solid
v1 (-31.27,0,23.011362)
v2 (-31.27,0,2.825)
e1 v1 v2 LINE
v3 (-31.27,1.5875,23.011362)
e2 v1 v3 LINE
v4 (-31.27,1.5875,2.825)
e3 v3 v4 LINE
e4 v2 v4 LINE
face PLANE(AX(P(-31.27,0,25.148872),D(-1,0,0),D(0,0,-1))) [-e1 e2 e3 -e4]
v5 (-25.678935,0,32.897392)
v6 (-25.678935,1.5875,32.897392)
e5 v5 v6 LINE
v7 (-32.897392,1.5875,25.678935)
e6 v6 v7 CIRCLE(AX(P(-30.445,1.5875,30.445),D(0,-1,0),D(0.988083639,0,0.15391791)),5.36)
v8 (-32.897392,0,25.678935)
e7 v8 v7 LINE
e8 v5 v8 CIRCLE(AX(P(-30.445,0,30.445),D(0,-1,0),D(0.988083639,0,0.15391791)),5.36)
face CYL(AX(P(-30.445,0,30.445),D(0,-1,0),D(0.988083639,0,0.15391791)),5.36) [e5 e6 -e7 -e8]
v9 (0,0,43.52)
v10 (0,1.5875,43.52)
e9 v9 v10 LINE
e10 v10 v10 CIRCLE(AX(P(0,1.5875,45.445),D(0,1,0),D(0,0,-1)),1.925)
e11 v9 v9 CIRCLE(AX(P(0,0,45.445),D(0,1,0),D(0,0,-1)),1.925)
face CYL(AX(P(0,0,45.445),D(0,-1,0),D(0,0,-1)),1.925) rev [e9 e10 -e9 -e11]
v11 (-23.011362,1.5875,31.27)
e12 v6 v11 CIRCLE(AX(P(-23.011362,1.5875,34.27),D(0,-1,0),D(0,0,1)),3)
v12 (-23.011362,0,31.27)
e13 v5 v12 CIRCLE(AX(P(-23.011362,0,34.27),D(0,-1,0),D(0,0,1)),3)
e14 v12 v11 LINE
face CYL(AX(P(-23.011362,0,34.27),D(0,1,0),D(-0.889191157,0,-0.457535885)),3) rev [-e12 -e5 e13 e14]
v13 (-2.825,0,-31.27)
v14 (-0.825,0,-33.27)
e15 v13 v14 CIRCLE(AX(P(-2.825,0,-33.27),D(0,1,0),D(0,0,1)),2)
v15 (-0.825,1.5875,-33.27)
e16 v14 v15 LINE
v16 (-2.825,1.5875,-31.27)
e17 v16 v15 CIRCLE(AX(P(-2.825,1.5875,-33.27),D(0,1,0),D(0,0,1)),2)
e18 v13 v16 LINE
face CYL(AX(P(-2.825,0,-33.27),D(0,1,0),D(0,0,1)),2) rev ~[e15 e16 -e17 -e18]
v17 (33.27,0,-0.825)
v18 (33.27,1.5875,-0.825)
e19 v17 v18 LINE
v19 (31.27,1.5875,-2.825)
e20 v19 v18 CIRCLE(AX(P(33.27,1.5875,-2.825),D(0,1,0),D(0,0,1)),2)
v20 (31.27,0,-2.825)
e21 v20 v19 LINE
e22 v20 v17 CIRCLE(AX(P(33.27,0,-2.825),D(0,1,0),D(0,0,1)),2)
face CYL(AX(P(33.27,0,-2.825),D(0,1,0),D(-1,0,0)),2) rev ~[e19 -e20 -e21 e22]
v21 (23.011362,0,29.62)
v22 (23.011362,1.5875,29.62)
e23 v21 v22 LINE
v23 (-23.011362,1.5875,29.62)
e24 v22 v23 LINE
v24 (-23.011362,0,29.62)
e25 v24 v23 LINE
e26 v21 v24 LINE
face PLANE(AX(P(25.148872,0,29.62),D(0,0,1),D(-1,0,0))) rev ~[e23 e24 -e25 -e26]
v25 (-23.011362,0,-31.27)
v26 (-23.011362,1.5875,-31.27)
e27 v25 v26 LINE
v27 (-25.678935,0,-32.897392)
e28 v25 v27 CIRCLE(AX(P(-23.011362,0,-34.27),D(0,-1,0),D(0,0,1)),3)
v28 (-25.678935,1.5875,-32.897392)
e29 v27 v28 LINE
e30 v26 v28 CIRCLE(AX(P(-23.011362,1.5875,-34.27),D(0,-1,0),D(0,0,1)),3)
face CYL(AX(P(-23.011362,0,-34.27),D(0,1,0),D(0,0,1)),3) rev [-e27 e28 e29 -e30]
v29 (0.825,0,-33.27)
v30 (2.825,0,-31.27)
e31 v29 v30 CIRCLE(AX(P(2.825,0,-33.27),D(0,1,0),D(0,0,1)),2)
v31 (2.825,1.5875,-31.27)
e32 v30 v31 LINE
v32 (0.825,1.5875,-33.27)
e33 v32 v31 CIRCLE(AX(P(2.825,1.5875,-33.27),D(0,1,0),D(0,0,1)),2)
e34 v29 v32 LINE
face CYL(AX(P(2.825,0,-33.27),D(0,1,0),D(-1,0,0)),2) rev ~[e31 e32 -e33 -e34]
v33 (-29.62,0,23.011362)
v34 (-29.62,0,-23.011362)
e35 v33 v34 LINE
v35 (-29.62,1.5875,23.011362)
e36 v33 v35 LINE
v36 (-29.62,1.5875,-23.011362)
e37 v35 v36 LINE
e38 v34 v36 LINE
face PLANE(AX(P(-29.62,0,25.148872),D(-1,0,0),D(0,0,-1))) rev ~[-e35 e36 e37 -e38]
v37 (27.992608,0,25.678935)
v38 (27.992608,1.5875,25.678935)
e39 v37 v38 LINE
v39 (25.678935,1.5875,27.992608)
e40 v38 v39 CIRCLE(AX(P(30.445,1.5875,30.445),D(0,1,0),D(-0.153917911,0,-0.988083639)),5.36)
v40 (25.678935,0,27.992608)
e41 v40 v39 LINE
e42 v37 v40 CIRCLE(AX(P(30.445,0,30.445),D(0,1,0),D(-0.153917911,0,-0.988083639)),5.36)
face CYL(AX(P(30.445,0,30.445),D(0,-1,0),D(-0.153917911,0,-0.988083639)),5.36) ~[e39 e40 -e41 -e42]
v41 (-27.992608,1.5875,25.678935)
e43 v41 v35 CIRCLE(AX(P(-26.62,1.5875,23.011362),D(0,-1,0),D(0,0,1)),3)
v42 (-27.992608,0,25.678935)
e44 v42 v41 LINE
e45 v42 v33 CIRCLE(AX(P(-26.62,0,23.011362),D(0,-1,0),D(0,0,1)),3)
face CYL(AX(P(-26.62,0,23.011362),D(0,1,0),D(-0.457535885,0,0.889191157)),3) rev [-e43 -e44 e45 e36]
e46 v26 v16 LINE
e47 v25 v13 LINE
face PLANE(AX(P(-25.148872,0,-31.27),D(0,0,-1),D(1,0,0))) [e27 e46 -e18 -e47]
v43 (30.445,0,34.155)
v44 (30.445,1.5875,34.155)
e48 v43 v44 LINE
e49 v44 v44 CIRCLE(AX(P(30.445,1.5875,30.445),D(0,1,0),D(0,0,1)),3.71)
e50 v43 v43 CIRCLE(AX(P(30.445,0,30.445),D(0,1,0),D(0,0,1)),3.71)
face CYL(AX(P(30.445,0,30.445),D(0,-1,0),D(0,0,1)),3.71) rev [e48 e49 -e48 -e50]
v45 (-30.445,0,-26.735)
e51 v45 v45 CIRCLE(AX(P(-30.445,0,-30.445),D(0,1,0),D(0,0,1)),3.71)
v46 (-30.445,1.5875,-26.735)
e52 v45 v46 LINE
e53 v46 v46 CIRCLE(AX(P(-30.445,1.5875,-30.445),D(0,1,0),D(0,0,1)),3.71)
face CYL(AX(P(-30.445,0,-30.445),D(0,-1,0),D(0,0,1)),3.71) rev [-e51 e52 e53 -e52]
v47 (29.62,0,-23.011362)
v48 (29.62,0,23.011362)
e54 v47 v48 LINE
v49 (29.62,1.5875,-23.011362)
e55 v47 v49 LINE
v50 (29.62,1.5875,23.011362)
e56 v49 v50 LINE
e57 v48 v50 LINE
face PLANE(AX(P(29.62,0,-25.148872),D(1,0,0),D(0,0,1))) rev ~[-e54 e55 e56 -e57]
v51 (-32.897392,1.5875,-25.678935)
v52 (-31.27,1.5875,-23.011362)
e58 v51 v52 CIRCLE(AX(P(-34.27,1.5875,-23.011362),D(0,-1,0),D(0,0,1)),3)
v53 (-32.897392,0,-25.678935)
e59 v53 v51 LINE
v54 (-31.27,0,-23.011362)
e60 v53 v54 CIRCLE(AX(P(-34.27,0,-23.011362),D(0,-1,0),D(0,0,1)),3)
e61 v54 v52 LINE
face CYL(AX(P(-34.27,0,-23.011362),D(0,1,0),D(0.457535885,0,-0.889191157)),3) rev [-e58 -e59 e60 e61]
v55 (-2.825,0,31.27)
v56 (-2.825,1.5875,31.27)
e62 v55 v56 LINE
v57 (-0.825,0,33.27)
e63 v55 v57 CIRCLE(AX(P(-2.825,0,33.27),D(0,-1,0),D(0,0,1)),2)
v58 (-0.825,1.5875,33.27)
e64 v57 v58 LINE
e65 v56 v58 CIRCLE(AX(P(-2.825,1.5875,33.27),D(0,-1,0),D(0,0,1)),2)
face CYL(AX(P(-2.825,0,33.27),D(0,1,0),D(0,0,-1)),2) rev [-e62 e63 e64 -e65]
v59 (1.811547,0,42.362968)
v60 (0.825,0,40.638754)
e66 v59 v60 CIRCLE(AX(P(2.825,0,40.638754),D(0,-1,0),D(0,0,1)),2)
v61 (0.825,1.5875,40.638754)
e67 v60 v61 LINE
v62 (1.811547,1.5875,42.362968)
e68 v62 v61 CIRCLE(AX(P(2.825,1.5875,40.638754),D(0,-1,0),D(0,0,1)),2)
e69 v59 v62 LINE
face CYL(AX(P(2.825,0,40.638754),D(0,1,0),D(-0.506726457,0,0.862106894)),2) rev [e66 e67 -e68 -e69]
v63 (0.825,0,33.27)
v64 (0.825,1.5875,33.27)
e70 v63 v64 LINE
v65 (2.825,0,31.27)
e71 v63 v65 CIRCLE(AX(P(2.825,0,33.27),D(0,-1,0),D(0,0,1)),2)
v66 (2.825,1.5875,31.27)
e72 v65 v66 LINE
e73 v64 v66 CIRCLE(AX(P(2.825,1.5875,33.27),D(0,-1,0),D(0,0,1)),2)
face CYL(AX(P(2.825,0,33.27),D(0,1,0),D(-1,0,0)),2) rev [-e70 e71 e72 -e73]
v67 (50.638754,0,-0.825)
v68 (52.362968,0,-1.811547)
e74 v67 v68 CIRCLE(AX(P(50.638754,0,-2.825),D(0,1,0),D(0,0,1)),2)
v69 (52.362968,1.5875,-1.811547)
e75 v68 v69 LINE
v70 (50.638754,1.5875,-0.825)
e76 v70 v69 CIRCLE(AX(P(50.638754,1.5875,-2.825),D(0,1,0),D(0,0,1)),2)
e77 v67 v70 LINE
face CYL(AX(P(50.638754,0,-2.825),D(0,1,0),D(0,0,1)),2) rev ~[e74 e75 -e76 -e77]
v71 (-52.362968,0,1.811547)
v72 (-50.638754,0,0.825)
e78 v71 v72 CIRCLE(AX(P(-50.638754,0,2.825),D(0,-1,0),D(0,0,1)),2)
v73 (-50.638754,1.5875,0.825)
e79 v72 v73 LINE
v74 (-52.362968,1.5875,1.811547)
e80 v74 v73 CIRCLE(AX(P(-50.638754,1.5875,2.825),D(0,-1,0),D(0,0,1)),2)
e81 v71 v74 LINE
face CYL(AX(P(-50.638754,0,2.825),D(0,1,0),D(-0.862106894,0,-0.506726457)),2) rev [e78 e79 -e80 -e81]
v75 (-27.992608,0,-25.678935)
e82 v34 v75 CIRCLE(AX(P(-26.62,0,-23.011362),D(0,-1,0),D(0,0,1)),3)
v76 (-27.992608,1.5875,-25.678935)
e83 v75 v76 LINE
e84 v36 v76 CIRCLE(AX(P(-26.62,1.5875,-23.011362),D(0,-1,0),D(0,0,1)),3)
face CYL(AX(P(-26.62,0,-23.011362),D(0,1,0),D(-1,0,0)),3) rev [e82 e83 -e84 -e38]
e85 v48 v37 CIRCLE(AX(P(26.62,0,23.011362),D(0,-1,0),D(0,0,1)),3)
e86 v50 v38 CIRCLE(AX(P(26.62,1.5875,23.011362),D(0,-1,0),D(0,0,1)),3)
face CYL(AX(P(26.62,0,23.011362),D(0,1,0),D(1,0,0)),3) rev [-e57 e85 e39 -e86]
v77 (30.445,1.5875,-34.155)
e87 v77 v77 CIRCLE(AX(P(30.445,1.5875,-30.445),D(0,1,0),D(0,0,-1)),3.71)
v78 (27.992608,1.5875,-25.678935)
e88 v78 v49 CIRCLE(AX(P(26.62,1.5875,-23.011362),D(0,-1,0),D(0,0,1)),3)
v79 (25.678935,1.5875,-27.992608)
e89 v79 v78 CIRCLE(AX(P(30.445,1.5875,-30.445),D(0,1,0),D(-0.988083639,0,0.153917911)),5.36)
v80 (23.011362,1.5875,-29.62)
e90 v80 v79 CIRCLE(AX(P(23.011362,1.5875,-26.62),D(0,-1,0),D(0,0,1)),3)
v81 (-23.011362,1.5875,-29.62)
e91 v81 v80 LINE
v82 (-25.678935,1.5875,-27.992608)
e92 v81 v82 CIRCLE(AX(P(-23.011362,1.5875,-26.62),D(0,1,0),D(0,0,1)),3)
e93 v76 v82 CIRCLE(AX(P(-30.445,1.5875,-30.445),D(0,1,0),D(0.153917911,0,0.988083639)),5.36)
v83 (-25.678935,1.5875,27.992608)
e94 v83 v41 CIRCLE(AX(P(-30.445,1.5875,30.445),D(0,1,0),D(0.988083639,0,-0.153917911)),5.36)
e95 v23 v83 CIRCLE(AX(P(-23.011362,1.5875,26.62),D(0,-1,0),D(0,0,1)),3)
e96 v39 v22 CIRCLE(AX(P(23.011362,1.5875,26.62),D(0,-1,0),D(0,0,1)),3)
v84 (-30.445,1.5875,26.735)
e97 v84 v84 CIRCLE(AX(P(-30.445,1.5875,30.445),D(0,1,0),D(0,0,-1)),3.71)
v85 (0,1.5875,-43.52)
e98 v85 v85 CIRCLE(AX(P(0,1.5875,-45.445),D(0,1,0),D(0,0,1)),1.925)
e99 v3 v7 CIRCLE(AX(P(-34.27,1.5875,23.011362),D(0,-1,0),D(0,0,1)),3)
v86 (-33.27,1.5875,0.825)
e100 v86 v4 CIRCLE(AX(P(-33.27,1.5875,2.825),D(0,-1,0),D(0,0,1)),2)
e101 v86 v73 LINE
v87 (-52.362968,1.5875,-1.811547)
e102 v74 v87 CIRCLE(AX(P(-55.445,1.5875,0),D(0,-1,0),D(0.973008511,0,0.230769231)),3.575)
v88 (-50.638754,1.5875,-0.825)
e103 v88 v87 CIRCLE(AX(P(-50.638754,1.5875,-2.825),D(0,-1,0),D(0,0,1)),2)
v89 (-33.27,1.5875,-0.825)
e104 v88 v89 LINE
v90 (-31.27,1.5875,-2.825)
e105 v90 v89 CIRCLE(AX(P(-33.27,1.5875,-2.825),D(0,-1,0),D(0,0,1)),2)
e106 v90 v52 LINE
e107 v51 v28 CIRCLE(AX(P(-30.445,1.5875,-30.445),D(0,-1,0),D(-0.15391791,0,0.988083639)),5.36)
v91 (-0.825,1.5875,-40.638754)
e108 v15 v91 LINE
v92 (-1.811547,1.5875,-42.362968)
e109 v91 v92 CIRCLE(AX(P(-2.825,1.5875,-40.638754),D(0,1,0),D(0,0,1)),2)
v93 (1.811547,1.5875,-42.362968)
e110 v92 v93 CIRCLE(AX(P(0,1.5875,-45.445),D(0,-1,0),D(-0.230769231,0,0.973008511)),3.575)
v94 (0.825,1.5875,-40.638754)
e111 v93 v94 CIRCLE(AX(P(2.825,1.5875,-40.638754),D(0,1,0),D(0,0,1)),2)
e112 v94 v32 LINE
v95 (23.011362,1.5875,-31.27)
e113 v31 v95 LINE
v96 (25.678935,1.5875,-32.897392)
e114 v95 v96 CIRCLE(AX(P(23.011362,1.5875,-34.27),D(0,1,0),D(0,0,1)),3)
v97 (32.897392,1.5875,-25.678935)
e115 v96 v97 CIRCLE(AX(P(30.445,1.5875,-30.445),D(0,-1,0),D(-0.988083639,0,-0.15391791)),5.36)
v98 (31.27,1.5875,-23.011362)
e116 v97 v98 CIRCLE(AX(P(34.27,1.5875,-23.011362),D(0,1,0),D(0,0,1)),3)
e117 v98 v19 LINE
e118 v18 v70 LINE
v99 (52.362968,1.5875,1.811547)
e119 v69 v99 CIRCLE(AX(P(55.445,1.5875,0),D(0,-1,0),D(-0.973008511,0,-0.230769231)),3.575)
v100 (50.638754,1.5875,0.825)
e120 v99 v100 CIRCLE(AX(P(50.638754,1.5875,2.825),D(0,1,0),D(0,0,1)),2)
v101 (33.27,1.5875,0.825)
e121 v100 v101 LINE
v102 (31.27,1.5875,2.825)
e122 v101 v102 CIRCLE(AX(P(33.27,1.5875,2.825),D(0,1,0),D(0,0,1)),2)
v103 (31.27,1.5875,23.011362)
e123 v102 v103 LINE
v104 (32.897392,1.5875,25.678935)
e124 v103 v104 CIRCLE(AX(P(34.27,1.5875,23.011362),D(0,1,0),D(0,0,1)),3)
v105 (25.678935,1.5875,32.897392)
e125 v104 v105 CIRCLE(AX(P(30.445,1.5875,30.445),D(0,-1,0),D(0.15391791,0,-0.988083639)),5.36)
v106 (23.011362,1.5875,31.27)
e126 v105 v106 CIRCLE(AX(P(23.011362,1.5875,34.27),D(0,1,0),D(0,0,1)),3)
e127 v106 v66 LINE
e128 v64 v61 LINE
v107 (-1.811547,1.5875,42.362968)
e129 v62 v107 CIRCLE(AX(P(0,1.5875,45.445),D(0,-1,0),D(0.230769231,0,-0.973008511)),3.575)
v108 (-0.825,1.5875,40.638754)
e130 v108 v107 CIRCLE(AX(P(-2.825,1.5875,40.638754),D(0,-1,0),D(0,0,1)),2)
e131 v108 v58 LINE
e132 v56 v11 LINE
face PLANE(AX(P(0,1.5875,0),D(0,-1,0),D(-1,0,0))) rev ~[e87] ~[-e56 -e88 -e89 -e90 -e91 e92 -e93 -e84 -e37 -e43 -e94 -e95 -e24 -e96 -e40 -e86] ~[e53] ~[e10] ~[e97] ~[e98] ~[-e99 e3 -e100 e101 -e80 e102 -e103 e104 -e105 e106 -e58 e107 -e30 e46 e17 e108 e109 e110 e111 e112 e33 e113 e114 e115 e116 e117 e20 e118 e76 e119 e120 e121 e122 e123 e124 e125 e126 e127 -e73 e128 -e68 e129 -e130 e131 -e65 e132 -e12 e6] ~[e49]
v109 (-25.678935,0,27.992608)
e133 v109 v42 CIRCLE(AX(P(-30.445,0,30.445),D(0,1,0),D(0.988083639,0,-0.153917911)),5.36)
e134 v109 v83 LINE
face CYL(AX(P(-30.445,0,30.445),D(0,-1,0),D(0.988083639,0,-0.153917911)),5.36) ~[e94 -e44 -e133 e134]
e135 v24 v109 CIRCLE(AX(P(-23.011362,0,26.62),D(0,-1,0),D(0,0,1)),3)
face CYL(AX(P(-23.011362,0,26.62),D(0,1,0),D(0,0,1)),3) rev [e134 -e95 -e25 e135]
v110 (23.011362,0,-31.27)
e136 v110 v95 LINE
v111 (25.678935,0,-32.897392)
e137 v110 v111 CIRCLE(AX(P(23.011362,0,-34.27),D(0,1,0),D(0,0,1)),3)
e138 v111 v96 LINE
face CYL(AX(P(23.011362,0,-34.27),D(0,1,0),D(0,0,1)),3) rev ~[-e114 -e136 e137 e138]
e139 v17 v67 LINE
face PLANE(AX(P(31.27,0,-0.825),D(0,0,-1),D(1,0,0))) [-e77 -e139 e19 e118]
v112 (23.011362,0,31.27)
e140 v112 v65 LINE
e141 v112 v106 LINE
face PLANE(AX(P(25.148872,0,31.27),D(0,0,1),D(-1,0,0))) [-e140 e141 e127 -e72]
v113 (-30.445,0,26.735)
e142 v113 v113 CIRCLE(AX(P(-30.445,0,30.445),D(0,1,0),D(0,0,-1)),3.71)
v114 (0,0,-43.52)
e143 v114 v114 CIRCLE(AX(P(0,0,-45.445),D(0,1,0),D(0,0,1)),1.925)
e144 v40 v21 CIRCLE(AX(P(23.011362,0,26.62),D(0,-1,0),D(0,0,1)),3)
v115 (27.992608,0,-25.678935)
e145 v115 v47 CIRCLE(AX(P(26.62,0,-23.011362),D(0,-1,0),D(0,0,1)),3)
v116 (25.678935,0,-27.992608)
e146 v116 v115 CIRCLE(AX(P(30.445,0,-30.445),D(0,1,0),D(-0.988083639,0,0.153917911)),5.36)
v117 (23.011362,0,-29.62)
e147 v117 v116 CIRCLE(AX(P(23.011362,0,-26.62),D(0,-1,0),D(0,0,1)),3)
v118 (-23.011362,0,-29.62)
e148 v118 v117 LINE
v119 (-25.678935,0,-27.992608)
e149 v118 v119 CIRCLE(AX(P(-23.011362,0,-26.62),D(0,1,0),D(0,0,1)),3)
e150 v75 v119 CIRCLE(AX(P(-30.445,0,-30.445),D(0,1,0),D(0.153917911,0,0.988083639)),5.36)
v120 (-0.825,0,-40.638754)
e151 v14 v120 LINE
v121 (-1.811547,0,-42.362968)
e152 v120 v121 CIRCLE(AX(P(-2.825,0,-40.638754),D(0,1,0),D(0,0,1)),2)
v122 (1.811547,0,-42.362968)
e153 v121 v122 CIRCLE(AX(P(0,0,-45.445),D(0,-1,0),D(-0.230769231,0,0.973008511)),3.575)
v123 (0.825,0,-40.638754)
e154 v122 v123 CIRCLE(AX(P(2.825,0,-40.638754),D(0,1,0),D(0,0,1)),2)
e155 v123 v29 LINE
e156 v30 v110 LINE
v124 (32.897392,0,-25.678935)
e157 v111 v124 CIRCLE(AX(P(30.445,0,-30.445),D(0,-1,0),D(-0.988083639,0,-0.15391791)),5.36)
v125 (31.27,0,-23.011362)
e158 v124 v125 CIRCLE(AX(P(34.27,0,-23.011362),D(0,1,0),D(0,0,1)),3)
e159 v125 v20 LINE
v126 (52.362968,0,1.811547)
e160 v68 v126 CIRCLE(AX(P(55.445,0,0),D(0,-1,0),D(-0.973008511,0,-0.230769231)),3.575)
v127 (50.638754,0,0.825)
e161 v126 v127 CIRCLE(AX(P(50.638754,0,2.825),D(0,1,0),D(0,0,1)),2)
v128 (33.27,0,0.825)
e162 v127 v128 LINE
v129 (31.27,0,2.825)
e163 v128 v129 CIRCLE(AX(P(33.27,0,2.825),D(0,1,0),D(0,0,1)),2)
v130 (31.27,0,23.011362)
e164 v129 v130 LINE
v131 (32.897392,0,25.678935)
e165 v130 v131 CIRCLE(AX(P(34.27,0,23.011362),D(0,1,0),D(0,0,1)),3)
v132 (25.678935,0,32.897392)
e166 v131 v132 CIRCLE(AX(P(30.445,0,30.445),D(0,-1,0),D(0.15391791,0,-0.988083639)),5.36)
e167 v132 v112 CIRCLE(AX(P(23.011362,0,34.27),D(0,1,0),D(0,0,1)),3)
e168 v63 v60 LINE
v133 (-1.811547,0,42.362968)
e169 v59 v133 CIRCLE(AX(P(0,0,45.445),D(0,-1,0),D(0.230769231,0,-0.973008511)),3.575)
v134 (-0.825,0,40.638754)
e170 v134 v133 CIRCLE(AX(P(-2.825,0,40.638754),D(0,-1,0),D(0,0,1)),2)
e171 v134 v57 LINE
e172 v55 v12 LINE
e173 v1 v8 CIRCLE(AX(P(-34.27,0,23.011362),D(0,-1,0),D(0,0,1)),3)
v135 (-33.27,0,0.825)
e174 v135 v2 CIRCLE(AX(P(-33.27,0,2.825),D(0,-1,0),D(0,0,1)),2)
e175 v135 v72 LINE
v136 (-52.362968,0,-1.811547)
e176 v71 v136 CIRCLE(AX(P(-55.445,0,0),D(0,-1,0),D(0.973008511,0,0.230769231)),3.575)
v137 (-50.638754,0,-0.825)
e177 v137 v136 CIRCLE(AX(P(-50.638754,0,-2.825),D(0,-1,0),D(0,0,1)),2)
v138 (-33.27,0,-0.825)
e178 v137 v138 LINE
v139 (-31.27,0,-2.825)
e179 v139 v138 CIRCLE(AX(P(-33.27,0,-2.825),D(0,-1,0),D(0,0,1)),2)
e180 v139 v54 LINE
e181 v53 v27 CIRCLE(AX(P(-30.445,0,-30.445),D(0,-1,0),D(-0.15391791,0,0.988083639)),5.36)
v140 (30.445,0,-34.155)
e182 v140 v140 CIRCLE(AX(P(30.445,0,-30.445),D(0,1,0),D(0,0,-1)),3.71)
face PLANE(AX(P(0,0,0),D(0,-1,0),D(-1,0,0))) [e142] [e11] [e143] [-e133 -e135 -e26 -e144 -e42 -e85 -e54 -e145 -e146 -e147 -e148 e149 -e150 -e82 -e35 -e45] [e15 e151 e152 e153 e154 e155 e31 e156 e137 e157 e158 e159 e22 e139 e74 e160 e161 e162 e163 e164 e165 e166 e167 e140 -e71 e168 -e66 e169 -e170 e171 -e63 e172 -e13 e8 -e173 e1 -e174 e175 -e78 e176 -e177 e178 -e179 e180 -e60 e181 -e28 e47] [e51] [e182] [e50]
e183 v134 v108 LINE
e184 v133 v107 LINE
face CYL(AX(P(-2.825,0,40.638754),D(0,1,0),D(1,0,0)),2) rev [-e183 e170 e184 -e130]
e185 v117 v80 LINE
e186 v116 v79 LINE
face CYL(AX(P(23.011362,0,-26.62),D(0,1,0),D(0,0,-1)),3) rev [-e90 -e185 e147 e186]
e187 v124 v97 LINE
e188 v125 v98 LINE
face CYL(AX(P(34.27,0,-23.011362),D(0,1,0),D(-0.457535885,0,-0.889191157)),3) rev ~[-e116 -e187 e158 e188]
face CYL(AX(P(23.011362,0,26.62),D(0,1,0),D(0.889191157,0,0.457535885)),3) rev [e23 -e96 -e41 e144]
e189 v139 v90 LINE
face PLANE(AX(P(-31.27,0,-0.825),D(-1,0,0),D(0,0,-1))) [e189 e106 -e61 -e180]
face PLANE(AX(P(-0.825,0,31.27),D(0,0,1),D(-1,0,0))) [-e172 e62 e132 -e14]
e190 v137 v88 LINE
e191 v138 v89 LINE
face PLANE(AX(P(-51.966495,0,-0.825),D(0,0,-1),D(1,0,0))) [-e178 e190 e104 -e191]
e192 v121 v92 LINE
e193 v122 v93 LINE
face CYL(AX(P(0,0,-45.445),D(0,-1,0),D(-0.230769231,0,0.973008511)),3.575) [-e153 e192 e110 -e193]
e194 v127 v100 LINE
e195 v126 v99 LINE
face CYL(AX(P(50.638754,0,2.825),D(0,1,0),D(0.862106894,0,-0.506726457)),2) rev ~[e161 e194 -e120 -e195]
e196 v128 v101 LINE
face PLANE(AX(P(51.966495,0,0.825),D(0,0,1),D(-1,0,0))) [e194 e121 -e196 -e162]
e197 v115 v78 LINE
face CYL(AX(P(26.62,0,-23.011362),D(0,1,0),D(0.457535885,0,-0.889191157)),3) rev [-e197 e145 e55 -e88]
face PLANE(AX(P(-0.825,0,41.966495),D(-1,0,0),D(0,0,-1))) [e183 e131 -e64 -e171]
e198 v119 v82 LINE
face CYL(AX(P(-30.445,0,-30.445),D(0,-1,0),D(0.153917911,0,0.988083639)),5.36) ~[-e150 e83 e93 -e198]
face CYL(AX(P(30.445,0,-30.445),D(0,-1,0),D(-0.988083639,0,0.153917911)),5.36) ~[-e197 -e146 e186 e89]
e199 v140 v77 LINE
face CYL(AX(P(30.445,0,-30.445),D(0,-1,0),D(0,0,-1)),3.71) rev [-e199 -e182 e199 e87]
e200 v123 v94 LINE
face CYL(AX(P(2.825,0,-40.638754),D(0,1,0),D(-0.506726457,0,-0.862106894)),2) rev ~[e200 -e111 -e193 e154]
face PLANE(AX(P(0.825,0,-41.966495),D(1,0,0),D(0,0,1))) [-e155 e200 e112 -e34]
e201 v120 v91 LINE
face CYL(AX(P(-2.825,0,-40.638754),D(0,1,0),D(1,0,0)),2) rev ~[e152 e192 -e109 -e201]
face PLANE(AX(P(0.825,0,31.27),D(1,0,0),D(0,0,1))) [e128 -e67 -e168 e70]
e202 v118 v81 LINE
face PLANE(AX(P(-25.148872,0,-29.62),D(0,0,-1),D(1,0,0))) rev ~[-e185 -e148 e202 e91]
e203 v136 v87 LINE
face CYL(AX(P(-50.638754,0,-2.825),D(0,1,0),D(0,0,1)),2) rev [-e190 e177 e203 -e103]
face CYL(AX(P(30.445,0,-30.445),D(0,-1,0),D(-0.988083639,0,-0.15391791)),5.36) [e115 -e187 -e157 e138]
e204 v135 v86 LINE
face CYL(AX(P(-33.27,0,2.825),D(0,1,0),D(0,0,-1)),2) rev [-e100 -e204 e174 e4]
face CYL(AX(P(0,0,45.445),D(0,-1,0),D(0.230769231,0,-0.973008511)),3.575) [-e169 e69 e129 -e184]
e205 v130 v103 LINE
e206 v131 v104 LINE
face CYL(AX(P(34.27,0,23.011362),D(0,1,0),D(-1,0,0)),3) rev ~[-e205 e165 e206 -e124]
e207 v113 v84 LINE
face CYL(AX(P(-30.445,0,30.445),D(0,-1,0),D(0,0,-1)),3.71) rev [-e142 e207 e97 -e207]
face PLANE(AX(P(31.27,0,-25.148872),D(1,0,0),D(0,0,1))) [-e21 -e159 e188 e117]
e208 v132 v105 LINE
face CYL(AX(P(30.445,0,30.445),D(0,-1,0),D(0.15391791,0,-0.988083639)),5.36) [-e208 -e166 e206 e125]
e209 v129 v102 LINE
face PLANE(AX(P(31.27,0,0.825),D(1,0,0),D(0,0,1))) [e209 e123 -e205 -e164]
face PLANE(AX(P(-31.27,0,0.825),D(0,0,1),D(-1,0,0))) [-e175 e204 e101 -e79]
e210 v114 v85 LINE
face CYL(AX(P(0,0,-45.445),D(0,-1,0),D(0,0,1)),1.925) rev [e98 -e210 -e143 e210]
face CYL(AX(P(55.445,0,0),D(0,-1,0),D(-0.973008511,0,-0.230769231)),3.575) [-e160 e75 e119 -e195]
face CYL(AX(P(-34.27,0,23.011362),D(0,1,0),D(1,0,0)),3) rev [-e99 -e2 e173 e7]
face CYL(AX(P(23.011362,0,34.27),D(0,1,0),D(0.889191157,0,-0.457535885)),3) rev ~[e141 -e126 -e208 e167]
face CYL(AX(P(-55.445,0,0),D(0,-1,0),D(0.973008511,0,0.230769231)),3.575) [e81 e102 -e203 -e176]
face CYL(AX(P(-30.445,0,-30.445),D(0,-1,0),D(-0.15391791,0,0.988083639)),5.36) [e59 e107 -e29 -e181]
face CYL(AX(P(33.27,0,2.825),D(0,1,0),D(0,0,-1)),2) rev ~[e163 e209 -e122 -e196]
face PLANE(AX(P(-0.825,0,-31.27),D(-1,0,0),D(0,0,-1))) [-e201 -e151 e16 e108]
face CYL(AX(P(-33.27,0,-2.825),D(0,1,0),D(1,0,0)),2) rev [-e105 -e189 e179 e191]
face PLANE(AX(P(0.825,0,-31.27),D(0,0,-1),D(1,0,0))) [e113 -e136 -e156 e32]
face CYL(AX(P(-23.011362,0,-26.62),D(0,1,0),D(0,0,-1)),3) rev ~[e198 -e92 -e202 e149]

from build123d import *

# Parameters (mm, degrees)
SKETCH1_R           = 3.71
SKETCH1_R_2         = 1.925
BOSS_EXTRUDE1_DEPTH = 1.5875
FILLET1_R           = 3
FILLET2_R           = 2
FILLET3_R           = 2


with BuildPart() as part:
    # Sketch1 → Boss-Extrude1 (new body)
    with BuildSketch(Plane(origin=(0, 0, 0), x_dir=(1, 0, 0), z_dir=(0, 1, 0))):
        with BuildLine():
            Line((-25.148871697, 31.27), (-0.825, 31.27))
            Line((-0.825, 31.27), (-0.825, 41.966494574))
            ThreePointArc((-0.825, 41.966494574), (0, 49.02), (0.825, 41.966494574))
            Line((0.825, 41.966494574), (0.825, 31.27))
            Line((0.825, 31.27), (25.148871697, 31.27))
            ThreePointArc((25.148871697, 31.27), (34.235092347, 34.235092347), (31.27, 25.148871697))
            Line((31.27, 25.148871697), (31.27, 0.825))
            Line((31.27, 0.825), (51.966494574, 0.825))
            ThreePointArc((51.966494574, 0.825), (59.02, 0), (51.966494574, -0.825))
            Line((51.966494574, -0.825), (31.27, -0.825))
            Line((31.27, -0.825), (31.27, -25.148871697))
            ThreePointArc((31.27, -25.148871697), (34.235092347, -34.235092347), (25.148871697, -31.27))
            Line((25.148871697, -31.27), (0.825, -31.27))
            Line((0.825, -31.27), (0.825, -41.966494574))
            ThreePointArc((0.825, -41.966494574), (0, -49.02), (-0.825, -41.966494574))
            Line((-0.825, -41.966494574), (-0.825, -31.27))
            Line((-0.825, -31.27), (-25.148871697, -31.27))
            ThreePointArc((-25.148871697, -31.27), (-34.235092347, -34.235092347), (-31.27, -25.148871697))
            Line((-31.27, -25.148871697), (-31.27, -0.825))
            Line((-31.27, -0.825), (-51.966494574, -0.825))
            ThreePointArc((-51.966494574, -0.825), (-59.02, 0), (-51.966494574, 0.825))
            Line((-51.966494574, 0.825), (-31.27, 0.825))
            Line((-31.27, 0.825), (-31.27, 25.148871697))
            ThreePointArc((-31.27, 25.148871697), (-34.235092347, 34.235092347), (-25.148871697, 31.27))
        make_face()
        with Locations(Location((-30.445, 30.445, 0), (0, 0, 270))):
            Circle(SKETCH1_R, mode=Mode.SUBTRACT)
        with Locations(Location((30.445, 30.445, 0), (0, 0, 90))):
            Circle(SKETCH1_R, mode=Mode.SUBTRACT)
        with Locations(Location((30.445, -30.445, 0), (0, 0, 270))):
            Circle(SKETCH1_R, mode=Mode.SUBTRACT)
        with Locations(Location((-30.445, -30.445, 0), (0, 0, 90))):
            Circle(SKETCH1_R, mode=Mode.SUBTRACT)
        with Locations(Location((0, 45.445, 0), (0, 0, 270))):
            Circle(SKETCH1_R_2, mode=Mode.SUBTRACT)
        with Locations(Location((0, -45.445, 0), (0, 0, 90))):
            Circle(SKETCH1_R_2, mode=Mode.SUBTRACT)
        with BuildLine():
            Line((-25.148871697, 29.62), (25.148871697, 29.62))
            ThreePointArc((25.148871697, 29.62), (26.654907653, 26.654907653), (29.62, 25.148871697))
            Line((29.62, 25.148871697), (29.62, -25.148871697))
            ThreePointArc((29.62, -25.148871697), (26.654907653, -26.654907653), (25.148871697, -29.62))
            Line((25.148871697, -29.62), (-25.148871697, -29.62))
            ThreePointArc((-25.148871697, -29.62), (-26.654907653, -26.654907653), (-29.62, -25.148871697))
            Line((-29.62, -25.148871697), (-29.62, 25.148871697))
            ThreePointArc((-29.62, 25.148871697), (-26.654907653, 26.654907653), (-25.148871697, 29.62))
        make_face(mode=Mode.SUBTRACT)
    extrude(amount=BOSS_EXTRUDE1_DEPTH)

    # Fillet1
    fillet1_edges = [part.edges().sort_by_distance(p)[0] for p in [
        (25.148871697, 0.79375, -31.27),
        (31.27, 0.79375, -25.148871697),
        (31.27, 0.79375, 25.148871697),
        (25.148871697, 0.79375, 31.27),
        (-25.148871697, 0.79375, 31.27),
        (-31.27, 0.79375, 25.148871697),
        (-31.27, 0.79375, -25.148871697),
        (-25.148871697, 0.79375, -31.27),
        (-25.148871697, 0.79375, -29.62),
        (-29.62, 0.79375, -25.148871697),
        (-29.62, 0.79375, 25.148871697),
        (-25.148871697, 0.79375, 29.62),
        (25.148871697, 0.79375, 29.62),
        (29.62, 0.79375, 25.148871697),
        (29.62, 0.79375, -25.148871697),
        (25.148871697, 0.79375, -29.62),
    ]]
    fillet(fillet1_edges, radius=FILLET1_R)

    # Fillet2
    fillet2_edges = [part.edges().sort_by_distance(p)[0] for p in [
        (0.825, 0.79375, -31.27),
        (31.27, 0.79375, -0.825),
        (31.27, 0.79375, 0.825),
        (0.825, 0.79375, 31.27),
        (-0.825, 0.79375, 31.27),
        (-31.27, 0.79375, 0.825),
        (-31.27, 0.79375, -0.825),
        (-0.825, 0.79375, -31.27),
    ]]
    fillet(fillet2_edges, radius=FILLET2_R)

    # Fillet3
    fillet3_edges = [part.edges().sort_by_distance(p)[0] for p in [
        (0.825, 0.79375, -41.966494574),
        (51.966494574, 0.79375, -0.825),
        (51.966494574, 0.79375, 0.825),
        (0.825, 0.79375, 41.966494574),
        (-0.825, 0.79375, 41.966494574),
        (-51.966494574, 0.79375, 0.825),
        (-51.966494574, 0.79375, -0.825),
        (-0.825, 0.79375, -41.966494574),
    ]]
    fillet(fillet3_edges, radius=FILLET3_R)


solid = part.part
